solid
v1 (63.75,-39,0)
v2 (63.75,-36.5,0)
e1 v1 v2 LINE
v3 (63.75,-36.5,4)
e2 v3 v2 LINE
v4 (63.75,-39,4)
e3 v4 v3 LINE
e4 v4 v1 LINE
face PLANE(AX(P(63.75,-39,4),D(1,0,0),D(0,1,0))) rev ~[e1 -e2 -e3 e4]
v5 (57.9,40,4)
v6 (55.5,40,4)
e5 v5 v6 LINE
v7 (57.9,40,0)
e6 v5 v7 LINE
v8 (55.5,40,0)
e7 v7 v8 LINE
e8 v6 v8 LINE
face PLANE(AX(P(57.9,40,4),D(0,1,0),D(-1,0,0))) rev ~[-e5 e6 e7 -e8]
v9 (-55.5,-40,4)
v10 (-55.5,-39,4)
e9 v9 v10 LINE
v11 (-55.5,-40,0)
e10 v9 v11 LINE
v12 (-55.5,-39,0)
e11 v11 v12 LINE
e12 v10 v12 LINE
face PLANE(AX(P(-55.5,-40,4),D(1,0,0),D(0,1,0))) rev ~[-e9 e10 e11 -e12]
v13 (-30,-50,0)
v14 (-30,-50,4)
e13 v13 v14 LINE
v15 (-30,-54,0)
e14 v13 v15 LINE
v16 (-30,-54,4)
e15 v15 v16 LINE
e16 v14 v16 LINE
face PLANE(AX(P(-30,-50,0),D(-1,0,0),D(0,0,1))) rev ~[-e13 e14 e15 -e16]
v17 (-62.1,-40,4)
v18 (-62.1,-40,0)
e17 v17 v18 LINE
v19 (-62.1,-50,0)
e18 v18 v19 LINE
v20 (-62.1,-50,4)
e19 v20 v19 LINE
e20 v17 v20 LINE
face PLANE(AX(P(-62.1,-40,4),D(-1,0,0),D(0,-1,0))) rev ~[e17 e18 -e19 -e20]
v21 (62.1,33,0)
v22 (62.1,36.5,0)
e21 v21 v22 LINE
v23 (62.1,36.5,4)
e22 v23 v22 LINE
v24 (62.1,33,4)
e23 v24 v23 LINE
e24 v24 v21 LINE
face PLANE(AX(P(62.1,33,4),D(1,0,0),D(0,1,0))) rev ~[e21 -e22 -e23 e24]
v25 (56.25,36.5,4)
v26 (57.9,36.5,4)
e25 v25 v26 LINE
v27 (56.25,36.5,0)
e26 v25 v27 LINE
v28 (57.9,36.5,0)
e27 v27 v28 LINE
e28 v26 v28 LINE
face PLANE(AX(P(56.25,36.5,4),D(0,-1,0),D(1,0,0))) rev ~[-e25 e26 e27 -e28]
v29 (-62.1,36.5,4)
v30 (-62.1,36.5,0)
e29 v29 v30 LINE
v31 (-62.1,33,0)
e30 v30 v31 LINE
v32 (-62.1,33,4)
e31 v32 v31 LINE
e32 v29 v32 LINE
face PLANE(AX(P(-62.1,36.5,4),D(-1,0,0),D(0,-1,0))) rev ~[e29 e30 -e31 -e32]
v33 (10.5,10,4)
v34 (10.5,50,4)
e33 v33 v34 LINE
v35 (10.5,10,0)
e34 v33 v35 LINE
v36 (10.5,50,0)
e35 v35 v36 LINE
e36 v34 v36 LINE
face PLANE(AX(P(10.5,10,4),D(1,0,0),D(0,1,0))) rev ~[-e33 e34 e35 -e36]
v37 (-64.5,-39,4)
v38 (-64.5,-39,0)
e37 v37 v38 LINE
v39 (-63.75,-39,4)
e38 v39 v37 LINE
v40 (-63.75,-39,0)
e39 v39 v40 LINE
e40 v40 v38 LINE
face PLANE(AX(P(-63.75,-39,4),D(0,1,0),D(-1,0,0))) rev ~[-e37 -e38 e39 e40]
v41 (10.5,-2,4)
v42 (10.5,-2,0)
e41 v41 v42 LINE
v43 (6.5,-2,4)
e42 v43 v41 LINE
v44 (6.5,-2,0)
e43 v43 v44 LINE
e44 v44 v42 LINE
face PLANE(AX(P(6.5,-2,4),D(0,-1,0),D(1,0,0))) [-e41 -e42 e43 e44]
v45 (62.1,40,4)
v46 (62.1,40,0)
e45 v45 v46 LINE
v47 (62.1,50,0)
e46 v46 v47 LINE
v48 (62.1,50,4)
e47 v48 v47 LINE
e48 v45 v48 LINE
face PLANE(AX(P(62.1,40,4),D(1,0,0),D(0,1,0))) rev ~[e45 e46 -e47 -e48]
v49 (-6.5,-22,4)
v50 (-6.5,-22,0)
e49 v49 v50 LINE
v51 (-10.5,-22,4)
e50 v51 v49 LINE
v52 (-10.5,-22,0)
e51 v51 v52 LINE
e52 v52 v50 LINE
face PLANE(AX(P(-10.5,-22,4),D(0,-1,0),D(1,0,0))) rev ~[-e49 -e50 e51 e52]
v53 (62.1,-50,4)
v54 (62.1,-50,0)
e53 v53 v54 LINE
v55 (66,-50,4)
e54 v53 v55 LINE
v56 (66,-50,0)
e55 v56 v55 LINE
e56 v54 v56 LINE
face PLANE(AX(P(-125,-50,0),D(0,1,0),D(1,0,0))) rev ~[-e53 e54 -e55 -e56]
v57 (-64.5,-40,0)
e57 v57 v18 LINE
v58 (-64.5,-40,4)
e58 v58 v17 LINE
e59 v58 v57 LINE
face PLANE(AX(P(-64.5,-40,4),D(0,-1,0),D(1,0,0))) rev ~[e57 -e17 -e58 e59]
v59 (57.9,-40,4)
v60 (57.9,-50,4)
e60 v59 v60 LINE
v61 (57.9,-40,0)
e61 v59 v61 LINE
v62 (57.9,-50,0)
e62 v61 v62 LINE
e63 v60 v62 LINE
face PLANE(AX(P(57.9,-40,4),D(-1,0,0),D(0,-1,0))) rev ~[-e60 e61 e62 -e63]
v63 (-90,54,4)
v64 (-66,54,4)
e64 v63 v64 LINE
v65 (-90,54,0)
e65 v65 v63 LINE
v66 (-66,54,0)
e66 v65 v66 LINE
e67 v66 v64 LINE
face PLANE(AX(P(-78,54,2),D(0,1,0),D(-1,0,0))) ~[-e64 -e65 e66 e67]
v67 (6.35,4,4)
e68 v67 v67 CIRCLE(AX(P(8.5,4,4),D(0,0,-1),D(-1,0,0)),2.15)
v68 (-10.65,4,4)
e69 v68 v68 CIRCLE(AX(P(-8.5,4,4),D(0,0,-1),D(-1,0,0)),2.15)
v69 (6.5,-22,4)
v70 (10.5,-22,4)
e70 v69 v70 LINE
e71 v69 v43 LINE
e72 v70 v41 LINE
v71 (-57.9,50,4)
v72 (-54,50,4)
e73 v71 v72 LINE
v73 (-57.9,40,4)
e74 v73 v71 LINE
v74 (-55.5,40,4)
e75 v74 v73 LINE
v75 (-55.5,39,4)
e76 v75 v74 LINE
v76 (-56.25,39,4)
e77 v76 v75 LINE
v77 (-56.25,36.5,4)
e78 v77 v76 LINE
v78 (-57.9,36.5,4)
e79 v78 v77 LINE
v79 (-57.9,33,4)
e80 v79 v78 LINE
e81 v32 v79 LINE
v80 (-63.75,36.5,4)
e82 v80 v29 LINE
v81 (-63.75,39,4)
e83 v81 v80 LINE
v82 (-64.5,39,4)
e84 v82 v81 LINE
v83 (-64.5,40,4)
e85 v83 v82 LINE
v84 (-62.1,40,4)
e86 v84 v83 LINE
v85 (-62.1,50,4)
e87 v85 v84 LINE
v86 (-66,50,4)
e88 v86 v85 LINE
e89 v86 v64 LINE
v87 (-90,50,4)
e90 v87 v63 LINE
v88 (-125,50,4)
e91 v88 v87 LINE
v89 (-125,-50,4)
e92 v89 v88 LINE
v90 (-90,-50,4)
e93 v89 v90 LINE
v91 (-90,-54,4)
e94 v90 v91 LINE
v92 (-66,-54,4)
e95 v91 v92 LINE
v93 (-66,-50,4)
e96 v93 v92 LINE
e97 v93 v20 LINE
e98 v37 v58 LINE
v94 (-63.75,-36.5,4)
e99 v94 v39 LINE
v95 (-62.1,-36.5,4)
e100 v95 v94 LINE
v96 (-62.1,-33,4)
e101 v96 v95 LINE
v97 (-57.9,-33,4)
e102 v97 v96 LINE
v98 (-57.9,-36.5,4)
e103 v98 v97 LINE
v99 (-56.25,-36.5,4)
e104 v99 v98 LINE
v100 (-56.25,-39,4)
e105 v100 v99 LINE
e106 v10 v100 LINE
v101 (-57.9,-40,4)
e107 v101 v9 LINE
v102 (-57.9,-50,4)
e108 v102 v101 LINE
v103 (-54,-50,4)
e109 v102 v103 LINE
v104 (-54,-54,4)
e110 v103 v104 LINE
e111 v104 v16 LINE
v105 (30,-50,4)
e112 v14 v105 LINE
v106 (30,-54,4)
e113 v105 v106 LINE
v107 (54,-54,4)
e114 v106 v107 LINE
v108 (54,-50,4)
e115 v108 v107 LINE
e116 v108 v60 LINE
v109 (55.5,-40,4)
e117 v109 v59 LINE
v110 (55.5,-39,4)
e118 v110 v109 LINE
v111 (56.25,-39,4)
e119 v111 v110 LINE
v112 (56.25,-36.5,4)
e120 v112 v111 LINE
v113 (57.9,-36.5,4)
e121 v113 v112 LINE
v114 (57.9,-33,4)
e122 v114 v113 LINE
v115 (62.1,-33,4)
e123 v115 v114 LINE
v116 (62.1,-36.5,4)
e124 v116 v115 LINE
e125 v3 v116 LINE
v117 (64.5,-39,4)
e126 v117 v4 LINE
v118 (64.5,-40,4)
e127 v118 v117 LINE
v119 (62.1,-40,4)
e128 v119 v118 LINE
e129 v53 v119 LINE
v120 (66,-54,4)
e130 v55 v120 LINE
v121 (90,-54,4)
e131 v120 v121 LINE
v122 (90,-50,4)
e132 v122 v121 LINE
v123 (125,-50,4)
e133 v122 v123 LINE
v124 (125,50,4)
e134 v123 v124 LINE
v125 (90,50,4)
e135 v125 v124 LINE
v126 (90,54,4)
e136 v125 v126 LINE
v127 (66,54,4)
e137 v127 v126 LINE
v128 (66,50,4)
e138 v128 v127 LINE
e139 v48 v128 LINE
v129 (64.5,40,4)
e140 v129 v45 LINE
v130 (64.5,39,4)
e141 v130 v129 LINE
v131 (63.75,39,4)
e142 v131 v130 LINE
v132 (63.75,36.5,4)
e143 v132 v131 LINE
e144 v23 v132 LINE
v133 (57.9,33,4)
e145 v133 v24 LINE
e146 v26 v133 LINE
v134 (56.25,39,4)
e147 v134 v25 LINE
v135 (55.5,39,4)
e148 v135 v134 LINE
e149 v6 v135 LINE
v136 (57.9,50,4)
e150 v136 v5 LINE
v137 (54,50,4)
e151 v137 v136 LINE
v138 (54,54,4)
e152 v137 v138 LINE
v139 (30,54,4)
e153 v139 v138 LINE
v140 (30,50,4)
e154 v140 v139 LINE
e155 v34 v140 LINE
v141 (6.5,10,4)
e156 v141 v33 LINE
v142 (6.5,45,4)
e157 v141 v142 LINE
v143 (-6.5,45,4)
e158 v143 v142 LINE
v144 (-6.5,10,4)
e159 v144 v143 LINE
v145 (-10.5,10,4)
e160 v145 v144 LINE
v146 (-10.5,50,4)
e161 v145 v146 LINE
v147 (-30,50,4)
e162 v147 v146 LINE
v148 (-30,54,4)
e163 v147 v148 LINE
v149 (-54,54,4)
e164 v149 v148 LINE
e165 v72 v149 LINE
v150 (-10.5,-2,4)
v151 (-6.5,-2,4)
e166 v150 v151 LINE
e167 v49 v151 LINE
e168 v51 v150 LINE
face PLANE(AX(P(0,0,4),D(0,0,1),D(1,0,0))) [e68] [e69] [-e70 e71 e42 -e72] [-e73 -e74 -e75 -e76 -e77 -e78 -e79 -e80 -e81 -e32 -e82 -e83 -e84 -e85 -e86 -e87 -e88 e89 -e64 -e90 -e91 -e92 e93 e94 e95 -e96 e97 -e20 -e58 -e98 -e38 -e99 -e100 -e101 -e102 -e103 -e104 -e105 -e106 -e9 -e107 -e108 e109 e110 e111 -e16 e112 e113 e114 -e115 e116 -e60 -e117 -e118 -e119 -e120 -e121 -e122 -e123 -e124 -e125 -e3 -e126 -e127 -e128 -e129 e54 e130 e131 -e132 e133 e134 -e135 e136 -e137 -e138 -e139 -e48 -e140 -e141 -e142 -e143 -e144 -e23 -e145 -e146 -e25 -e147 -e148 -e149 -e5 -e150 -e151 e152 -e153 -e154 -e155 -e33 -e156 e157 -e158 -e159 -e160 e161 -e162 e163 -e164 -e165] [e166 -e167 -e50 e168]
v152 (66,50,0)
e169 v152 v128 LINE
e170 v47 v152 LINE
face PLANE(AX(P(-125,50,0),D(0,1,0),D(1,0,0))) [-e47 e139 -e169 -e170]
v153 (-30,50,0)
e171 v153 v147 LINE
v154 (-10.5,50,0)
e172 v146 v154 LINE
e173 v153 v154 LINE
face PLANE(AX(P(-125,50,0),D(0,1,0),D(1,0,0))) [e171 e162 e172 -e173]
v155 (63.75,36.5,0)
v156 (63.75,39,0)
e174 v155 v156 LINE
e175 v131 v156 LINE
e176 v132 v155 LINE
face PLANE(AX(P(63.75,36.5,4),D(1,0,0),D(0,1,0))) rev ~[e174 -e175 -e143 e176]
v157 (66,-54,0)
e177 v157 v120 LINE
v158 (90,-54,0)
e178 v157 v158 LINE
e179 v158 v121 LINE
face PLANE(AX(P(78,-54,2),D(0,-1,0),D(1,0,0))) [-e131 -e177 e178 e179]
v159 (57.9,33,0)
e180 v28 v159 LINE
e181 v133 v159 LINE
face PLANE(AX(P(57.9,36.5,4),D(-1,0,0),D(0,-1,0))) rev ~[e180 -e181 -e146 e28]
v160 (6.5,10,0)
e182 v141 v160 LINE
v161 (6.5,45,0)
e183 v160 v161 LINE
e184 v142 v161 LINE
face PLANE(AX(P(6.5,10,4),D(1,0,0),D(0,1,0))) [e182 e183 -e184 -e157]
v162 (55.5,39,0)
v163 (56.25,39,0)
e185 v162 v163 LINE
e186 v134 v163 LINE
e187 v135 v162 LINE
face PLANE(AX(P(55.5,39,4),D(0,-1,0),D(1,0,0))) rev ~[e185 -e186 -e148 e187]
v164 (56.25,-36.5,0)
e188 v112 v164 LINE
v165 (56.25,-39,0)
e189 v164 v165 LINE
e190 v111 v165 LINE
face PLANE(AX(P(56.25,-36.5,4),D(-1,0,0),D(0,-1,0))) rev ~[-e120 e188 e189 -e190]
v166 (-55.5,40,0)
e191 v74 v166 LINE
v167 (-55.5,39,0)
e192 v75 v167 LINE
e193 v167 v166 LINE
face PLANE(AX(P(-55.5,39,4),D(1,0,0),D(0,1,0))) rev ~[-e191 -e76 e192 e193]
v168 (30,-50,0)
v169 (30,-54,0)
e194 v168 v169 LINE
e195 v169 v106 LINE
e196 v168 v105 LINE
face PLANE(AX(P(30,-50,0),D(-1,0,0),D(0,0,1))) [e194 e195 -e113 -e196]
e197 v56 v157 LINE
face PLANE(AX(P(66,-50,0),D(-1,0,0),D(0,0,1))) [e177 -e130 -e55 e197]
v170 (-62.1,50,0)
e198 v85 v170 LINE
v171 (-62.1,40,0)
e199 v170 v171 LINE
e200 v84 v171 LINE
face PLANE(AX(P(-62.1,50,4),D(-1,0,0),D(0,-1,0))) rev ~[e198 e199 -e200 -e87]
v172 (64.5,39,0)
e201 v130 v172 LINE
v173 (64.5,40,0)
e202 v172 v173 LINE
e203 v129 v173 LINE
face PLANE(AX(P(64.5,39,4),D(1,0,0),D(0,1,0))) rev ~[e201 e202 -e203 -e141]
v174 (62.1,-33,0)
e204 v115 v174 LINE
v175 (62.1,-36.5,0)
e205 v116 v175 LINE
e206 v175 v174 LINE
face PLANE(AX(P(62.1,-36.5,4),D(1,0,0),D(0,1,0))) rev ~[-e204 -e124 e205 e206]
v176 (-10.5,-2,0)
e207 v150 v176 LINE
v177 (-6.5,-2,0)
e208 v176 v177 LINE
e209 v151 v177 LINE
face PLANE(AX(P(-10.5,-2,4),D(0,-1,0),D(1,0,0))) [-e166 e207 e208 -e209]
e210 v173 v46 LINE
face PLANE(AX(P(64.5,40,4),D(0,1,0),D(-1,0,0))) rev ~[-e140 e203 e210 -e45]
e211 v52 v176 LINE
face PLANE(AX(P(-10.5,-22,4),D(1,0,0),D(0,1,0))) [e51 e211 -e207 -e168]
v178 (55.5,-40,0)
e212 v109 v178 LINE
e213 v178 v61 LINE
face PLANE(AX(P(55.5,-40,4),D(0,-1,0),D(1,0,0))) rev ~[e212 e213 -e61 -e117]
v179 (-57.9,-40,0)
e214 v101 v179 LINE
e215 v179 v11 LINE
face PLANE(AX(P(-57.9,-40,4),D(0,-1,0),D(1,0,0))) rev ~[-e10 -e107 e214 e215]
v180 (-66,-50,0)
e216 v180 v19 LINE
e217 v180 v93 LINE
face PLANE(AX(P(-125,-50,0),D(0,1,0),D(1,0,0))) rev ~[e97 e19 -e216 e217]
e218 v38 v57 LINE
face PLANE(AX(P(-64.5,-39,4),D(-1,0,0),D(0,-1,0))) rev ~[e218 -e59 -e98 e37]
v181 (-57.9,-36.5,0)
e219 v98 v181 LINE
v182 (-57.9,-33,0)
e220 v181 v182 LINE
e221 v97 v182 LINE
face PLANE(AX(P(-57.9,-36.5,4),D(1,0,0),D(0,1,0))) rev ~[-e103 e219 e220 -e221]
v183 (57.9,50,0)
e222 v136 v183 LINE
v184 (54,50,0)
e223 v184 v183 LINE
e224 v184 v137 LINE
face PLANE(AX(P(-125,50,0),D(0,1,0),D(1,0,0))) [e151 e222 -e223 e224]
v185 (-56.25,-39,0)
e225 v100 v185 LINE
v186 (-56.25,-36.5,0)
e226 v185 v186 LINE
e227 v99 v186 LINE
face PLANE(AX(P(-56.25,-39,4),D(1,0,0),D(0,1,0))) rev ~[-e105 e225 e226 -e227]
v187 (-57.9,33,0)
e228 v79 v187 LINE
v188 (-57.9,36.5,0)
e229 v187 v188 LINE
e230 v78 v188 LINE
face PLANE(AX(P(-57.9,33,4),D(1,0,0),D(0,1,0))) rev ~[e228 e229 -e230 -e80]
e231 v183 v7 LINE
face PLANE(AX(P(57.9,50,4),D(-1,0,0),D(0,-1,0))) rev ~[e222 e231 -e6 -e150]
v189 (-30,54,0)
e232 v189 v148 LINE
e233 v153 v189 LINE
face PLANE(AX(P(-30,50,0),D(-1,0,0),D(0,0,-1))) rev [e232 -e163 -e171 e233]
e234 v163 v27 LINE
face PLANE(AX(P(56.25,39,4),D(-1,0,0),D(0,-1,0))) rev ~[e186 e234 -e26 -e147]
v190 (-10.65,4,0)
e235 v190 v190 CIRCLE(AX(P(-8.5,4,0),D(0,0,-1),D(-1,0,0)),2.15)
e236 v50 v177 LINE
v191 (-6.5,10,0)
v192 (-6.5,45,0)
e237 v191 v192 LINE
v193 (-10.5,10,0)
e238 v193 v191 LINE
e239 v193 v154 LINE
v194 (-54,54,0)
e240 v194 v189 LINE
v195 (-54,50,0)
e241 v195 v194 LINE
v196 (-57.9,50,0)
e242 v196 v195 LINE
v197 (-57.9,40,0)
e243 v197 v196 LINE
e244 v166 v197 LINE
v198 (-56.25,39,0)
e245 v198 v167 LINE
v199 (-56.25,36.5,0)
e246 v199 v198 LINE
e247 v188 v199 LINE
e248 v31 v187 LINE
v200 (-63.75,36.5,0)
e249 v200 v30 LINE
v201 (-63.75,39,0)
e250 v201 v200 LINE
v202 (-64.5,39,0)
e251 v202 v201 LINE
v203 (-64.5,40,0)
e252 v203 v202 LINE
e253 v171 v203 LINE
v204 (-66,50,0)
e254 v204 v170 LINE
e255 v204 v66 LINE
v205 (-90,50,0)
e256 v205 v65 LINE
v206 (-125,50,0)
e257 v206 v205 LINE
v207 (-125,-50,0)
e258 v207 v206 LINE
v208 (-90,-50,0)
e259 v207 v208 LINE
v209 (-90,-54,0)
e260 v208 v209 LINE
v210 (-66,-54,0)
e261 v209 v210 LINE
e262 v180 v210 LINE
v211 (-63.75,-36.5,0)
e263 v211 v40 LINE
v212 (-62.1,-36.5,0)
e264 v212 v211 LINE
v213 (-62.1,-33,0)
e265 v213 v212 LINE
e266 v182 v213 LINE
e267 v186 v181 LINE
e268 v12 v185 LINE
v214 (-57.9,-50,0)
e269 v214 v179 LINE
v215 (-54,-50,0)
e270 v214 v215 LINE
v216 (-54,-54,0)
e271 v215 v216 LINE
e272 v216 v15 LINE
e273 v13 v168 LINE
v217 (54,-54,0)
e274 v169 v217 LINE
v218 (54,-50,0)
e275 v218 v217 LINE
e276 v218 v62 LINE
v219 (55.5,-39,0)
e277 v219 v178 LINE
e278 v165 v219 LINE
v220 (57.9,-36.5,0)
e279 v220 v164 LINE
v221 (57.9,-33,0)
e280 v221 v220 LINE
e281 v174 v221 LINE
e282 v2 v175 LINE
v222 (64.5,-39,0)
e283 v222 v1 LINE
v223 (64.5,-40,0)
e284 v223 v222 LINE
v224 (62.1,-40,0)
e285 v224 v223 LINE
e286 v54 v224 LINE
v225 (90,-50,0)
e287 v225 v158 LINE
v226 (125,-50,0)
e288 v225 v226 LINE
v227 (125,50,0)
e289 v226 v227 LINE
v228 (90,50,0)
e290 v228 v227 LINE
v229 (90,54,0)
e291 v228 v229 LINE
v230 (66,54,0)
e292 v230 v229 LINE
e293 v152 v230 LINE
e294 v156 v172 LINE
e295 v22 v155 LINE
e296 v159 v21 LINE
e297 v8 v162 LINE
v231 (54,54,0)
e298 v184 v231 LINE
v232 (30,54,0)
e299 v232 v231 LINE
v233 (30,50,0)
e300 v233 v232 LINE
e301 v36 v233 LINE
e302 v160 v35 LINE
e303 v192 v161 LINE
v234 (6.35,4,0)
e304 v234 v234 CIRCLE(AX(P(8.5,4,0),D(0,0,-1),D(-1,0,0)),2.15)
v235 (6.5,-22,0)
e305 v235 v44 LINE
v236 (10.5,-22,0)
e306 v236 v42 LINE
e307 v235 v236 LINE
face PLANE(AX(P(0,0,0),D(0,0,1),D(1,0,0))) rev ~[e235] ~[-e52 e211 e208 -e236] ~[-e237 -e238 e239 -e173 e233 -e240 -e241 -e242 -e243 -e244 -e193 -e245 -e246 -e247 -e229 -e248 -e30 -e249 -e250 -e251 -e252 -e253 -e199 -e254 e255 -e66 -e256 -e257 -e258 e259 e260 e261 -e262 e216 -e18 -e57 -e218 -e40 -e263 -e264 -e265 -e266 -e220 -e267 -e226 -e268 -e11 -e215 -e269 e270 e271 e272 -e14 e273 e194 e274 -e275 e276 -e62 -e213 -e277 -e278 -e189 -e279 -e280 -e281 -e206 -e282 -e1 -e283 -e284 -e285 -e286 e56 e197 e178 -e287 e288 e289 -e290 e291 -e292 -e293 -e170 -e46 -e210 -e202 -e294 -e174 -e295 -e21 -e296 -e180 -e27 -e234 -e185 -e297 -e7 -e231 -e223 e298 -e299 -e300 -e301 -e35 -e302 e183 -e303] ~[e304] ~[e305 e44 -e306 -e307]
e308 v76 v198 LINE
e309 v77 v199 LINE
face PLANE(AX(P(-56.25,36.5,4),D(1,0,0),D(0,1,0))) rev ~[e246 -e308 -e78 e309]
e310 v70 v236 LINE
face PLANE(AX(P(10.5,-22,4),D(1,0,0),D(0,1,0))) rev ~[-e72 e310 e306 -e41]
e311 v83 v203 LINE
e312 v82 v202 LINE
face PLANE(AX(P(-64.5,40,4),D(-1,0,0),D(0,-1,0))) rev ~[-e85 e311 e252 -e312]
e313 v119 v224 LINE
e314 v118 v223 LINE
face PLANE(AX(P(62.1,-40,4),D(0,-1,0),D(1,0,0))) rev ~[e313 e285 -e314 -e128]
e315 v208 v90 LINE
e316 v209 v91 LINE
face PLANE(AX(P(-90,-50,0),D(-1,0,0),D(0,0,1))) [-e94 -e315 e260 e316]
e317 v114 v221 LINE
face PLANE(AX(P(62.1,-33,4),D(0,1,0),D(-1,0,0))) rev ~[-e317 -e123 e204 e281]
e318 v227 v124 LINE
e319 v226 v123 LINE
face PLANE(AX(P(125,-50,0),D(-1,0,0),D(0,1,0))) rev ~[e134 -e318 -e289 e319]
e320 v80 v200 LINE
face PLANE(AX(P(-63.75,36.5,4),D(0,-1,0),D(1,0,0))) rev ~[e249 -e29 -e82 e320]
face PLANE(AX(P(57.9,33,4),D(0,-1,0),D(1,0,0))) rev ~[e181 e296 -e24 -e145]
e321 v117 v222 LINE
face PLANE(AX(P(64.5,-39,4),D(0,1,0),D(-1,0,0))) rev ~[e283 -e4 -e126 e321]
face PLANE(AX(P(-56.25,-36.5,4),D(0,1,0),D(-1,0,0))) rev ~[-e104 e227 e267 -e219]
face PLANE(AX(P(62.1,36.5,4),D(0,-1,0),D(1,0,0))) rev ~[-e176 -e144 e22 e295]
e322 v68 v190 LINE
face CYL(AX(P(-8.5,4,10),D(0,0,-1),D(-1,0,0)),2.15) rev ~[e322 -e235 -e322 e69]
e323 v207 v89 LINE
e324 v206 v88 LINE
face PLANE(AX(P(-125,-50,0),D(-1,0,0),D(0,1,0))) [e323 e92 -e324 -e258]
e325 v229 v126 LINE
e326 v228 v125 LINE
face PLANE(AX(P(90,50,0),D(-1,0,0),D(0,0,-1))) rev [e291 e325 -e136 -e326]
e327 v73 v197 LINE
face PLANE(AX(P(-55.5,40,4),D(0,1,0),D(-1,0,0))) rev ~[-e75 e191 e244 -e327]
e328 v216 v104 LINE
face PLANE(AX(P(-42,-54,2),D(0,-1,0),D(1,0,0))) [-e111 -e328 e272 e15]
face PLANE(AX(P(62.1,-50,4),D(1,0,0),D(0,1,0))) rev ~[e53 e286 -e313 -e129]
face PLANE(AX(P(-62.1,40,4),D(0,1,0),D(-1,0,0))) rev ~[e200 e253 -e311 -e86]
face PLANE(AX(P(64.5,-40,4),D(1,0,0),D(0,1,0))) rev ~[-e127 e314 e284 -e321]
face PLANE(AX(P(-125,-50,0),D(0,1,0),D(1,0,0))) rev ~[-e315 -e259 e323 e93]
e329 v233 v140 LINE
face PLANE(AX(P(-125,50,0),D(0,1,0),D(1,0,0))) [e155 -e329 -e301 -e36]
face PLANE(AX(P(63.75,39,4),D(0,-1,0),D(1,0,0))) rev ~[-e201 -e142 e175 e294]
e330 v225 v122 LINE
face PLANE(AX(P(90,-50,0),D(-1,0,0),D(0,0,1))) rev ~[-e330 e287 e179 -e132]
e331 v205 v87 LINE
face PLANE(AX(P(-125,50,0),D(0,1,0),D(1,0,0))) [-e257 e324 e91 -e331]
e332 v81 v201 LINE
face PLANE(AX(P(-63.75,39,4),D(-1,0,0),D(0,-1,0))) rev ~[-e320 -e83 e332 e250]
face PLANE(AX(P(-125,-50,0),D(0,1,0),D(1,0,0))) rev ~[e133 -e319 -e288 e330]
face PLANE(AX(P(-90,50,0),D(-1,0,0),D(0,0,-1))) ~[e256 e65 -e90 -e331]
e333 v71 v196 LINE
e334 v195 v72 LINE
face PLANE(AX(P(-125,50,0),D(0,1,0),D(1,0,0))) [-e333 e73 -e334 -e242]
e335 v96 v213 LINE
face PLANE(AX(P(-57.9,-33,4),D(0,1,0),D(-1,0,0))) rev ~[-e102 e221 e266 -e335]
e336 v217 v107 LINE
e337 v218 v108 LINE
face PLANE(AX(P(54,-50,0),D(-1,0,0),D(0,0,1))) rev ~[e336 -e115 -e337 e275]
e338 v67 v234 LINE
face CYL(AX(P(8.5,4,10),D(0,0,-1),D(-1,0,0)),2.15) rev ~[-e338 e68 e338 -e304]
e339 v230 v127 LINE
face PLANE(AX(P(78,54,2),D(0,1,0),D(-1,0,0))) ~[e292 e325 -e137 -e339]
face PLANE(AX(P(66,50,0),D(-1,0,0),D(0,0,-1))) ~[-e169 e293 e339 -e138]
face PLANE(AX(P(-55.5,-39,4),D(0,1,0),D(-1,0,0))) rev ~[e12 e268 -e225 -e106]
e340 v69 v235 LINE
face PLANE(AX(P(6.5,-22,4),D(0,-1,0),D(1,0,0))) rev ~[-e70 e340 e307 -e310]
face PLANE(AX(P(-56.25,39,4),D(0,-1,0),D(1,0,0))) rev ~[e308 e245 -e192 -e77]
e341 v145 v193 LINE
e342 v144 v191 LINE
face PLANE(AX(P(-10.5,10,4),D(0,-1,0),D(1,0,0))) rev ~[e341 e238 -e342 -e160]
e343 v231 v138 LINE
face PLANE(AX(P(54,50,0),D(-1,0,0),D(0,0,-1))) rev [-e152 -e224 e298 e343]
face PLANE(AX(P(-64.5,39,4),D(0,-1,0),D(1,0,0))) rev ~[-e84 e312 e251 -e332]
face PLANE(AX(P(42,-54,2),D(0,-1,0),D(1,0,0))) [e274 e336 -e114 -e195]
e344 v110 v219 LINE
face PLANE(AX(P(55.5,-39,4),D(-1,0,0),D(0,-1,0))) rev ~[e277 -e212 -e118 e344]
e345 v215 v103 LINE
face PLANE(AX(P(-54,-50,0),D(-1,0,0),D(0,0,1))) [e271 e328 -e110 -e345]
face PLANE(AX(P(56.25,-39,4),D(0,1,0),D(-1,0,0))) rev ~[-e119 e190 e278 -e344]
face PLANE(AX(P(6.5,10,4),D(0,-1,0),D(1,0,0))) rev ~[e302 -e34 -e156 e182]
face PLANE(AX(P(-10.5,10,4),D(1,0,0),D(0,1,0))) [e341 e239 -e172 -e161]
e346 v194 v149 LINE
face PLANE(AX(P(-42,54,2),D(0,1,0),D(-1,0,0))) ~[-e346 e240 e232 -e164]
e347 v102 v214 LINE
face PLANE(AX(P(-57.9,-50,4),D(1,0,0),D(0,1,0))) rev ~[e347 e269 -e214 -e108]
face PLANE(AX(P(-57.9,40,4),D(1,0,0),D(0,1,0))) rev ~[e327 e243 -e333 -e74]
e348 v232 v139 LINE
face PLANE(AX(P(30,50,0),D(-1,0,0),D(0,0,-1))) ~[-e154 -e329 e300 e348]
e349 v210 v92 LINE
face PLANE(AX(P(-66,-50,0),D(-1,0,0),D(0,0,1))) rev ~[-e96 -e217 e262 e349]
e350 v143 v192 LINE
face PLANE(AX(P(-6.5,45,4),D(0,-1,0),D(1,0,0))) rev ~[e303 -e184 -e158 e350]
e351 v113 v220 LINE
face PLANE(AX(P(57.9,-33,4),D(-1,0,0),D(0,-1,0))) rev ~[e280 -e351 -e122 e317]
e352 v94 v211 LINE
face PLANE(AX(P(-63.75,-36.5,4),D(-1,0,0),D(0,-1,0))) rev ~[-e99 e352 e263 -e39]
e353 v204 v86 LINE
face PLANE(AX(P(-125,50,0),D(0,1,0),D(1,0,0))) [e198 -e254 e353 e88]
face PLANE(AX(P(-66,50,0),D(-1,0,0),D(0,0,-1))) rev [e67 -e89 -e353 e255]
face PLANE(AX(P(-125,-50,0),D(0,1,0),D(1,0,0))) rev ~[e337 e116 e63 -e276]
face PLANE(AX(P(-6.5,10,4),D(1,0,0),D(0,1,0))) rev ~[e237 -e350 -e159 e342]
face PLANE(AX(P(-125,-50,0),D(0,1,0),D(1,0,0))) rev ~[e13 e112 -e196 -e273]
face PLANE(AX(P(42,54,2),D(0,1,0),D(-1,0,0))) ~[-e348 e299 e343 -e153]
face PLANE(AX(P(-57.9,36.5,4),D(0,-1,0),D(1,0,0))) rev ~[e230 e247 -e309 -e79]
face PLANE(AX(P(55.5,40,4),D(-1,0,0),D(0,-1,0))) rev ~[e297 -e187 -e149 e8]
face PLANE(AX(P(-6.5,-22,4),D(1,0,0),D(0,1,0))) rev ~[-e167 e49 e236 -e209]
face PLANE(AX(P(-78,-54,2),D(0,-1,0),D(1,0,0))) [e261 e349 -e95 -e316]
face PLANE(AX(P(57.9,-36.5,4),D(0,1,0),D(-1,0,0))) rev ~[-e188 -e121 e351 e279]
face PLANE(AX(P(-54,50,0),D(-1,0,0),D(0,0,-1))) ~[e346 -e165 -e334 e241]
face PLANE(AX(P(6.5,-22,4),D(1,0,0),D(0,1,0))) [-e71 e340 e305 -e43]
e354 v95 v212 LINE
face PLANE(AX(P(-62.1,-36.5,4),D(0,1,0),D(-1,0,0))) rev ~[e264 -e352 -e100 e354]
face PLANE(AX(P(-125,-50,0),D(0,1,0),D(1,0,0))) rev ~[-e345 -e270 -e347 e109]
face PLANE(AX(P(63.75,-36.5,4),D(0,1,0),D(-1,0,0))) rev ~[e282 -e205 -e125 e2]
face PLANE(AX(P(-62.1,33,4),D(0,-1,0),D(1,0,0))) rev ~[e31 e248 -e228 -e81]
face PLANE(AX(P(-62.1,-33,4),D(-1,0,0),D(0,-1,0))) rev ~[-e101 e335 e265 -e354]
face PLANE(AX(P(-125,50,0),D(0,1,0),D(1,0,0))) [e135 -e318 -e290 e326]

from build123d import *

# Parameters (mm, degrees)
SKETCH1_W                = 250
SKETCH1_H                = 100
BOSS_EXTRUDE1_DEPTH      = 4
SKETCH2_W                = 24
SKETCH2_H                = 4
BOSS_EXTRUDE2_DEPTH      = 4
SKETCH3_W                = 4
SKETCH3_H                = 40
SKETCH3_H_2              = 20
CUT_EXTRUDE1_DEPTH       = 5
M4_CLEARANCE_HOLE1_D     = 4.3
M4_CLEARANCE_HOLE1_DEPTH = 6
M4_CLEARANCE_HOLE1_TIP   = 1.291850331
CUT_EXTRUDE2_DEPTH       = 10
SKETCH7_W                = 13
SKETCH7_H                = 5
CUT_EXTRUDE3_DEPTH       = 10


with BuildPart() as part:
    # Sketch1 → Boss-Extrude1 (new body)
    with BuildSketch(Plane.XY):
        Rectangle(SKETCH1_W, SKETCH1_H)
    extrude(amount=BOSS_EXTRUDE1_DEPTH)

    # Sketch2 → Boss-Extrude2 (add)
    with BuildSketch(Plane.XZ.offset(50)):
        with Locations((-78, 2)):
            Rectangle(SKETCH2_W, SKETCH2_H)
        with Locations((-42, 2)):
            Rectangle(SKETCH2_W, SKETCH2_H)
        with Locations((42, 2)):
            Rectangle(SKETCH2_W, SKETCH2_H)
        with Locations((78, 2)):
            Rectangle(SKETCH2_W, SKETCH2_H)
    boss_extrude2 = extrude(amount=BOSS_EXTRUDE2_DEPTH)

    # Sketch3 → Cut-Extrude1 (cut, through all)
    with BuildSketch(Plane.XY.offset(4)):
        with Locations((-8.5, 30)):
            Rectangle(SKETCH3_W, SKETCH3_H)
        with Locations((-8.5, -12)):
            Rectangle(SKETCH3_W, SKETCH3_H_2)
        with Locations((8.5, -12)):
            Rectangle(SKETCH3_W, SKETCH3_H_2)
        with Locations((8.5, 30)):
            Rectangle(SKETCH3_W, SKETCH3_H)
    extrude(amount=-CUT_EXTRUDE1_DEPTH, mode=Mode.SUBTRACT)

    # Mirror1: Boss-Extrude2 across plane
    add(boss_extrude2.mirror(Plane.ZX))

    # M4 Clearance Hole1
    with Locations(Plane.XY.offset(4)):
        with Locations((-8.5, 4), (8.5, 4)):
            Hole(M4_CLEARANCE_HOLE1_D / 2, depth=M4_CLEARANCE_HOLE1_DEPTH)
            with Locations((0, 0, -(M4_CLEARANCE_HOLE1_DEPTH + M4_CLEARANCE_HOLE1_TIP / 2))):  # 118° drill point
                Cone(0, M4_CLEARANCE_HOLE1_D / 2, M4_CLEARANCE_HOLE1_TIP, mode=Mode.SUBTRACT)

    # Sketch6 → Cut-Extrude2 (cut)
    with BuildSketch(Plane.XY.offset(4)):
        Polygon((-62.1, -50), (-57.9, -50), (-57.9, -40), (-55.5, -40), (-55.5, -39), (-56.25, -39), (-56.25, -36.5), (-57.9, -36.5), (-57.9, -33), (-62.1, -33), (-62.1, -36.5), (-63.75, -36.5), (-63.75, -39), (-64.5, -39), (-64.5, -40), (-62.1, -40), align=None)
        Polygon((57.9, -40), (57.9, -50), (62.1, -50), (62.1, -40), (64.5, -40), (64.5, -39), (63.75, -39), (63.75, -36.5), (62.1, -36.5), (62.1, -33), (57.9, -33), (57.9, -36.5), (56.25, -36.5), (56.25, -39), (55.5, -39), (55.5, -40), align=None)
        Polygon((62.1, 40), (62.1, 50), (57.9, 50), (57.9, 40), (55.5, 40), (55.5, 39), (56.25, 39), (56.25, 36.5), (57.9, 36.5), (57.9, 33), (62.1, 33), (62.1, 36.5), (63.75, 36.5), (63.75, 39), (64.5, 39), (64.5, 40), align=None)
        Polygon((-57.9, 50), (-62.1, 50), (-62.1, 40), (-64.5, 40), (-64.5, 39), (-63.75, 39), (-63.75, 36.5), (-62.1, 36.5), (-62.1, 33), (-57.9, 33), (-57.9, 36.5), (-56.25, 36.5), (-56.25, 39), (-55.5, 39), (-55.5, 40), (-57.9, 40), align=None)
    extrude(amount=-CUT_EXTRUDE2_DEPTH, mode=Mode.SUBTRACT)

    # Sketch7 → Cut-Extrude3 (cut)
    with BuildSketch(Plane.XY.offset(4)):
        with Locations((0, 47.5)):
            Rectangle(SKETCH7_W, SKETCH7_H)
    extrude(amount=-CUT_EXTRUDE3_DEPTH, mode=Mode.SUBTRACT)


solid = part.part
